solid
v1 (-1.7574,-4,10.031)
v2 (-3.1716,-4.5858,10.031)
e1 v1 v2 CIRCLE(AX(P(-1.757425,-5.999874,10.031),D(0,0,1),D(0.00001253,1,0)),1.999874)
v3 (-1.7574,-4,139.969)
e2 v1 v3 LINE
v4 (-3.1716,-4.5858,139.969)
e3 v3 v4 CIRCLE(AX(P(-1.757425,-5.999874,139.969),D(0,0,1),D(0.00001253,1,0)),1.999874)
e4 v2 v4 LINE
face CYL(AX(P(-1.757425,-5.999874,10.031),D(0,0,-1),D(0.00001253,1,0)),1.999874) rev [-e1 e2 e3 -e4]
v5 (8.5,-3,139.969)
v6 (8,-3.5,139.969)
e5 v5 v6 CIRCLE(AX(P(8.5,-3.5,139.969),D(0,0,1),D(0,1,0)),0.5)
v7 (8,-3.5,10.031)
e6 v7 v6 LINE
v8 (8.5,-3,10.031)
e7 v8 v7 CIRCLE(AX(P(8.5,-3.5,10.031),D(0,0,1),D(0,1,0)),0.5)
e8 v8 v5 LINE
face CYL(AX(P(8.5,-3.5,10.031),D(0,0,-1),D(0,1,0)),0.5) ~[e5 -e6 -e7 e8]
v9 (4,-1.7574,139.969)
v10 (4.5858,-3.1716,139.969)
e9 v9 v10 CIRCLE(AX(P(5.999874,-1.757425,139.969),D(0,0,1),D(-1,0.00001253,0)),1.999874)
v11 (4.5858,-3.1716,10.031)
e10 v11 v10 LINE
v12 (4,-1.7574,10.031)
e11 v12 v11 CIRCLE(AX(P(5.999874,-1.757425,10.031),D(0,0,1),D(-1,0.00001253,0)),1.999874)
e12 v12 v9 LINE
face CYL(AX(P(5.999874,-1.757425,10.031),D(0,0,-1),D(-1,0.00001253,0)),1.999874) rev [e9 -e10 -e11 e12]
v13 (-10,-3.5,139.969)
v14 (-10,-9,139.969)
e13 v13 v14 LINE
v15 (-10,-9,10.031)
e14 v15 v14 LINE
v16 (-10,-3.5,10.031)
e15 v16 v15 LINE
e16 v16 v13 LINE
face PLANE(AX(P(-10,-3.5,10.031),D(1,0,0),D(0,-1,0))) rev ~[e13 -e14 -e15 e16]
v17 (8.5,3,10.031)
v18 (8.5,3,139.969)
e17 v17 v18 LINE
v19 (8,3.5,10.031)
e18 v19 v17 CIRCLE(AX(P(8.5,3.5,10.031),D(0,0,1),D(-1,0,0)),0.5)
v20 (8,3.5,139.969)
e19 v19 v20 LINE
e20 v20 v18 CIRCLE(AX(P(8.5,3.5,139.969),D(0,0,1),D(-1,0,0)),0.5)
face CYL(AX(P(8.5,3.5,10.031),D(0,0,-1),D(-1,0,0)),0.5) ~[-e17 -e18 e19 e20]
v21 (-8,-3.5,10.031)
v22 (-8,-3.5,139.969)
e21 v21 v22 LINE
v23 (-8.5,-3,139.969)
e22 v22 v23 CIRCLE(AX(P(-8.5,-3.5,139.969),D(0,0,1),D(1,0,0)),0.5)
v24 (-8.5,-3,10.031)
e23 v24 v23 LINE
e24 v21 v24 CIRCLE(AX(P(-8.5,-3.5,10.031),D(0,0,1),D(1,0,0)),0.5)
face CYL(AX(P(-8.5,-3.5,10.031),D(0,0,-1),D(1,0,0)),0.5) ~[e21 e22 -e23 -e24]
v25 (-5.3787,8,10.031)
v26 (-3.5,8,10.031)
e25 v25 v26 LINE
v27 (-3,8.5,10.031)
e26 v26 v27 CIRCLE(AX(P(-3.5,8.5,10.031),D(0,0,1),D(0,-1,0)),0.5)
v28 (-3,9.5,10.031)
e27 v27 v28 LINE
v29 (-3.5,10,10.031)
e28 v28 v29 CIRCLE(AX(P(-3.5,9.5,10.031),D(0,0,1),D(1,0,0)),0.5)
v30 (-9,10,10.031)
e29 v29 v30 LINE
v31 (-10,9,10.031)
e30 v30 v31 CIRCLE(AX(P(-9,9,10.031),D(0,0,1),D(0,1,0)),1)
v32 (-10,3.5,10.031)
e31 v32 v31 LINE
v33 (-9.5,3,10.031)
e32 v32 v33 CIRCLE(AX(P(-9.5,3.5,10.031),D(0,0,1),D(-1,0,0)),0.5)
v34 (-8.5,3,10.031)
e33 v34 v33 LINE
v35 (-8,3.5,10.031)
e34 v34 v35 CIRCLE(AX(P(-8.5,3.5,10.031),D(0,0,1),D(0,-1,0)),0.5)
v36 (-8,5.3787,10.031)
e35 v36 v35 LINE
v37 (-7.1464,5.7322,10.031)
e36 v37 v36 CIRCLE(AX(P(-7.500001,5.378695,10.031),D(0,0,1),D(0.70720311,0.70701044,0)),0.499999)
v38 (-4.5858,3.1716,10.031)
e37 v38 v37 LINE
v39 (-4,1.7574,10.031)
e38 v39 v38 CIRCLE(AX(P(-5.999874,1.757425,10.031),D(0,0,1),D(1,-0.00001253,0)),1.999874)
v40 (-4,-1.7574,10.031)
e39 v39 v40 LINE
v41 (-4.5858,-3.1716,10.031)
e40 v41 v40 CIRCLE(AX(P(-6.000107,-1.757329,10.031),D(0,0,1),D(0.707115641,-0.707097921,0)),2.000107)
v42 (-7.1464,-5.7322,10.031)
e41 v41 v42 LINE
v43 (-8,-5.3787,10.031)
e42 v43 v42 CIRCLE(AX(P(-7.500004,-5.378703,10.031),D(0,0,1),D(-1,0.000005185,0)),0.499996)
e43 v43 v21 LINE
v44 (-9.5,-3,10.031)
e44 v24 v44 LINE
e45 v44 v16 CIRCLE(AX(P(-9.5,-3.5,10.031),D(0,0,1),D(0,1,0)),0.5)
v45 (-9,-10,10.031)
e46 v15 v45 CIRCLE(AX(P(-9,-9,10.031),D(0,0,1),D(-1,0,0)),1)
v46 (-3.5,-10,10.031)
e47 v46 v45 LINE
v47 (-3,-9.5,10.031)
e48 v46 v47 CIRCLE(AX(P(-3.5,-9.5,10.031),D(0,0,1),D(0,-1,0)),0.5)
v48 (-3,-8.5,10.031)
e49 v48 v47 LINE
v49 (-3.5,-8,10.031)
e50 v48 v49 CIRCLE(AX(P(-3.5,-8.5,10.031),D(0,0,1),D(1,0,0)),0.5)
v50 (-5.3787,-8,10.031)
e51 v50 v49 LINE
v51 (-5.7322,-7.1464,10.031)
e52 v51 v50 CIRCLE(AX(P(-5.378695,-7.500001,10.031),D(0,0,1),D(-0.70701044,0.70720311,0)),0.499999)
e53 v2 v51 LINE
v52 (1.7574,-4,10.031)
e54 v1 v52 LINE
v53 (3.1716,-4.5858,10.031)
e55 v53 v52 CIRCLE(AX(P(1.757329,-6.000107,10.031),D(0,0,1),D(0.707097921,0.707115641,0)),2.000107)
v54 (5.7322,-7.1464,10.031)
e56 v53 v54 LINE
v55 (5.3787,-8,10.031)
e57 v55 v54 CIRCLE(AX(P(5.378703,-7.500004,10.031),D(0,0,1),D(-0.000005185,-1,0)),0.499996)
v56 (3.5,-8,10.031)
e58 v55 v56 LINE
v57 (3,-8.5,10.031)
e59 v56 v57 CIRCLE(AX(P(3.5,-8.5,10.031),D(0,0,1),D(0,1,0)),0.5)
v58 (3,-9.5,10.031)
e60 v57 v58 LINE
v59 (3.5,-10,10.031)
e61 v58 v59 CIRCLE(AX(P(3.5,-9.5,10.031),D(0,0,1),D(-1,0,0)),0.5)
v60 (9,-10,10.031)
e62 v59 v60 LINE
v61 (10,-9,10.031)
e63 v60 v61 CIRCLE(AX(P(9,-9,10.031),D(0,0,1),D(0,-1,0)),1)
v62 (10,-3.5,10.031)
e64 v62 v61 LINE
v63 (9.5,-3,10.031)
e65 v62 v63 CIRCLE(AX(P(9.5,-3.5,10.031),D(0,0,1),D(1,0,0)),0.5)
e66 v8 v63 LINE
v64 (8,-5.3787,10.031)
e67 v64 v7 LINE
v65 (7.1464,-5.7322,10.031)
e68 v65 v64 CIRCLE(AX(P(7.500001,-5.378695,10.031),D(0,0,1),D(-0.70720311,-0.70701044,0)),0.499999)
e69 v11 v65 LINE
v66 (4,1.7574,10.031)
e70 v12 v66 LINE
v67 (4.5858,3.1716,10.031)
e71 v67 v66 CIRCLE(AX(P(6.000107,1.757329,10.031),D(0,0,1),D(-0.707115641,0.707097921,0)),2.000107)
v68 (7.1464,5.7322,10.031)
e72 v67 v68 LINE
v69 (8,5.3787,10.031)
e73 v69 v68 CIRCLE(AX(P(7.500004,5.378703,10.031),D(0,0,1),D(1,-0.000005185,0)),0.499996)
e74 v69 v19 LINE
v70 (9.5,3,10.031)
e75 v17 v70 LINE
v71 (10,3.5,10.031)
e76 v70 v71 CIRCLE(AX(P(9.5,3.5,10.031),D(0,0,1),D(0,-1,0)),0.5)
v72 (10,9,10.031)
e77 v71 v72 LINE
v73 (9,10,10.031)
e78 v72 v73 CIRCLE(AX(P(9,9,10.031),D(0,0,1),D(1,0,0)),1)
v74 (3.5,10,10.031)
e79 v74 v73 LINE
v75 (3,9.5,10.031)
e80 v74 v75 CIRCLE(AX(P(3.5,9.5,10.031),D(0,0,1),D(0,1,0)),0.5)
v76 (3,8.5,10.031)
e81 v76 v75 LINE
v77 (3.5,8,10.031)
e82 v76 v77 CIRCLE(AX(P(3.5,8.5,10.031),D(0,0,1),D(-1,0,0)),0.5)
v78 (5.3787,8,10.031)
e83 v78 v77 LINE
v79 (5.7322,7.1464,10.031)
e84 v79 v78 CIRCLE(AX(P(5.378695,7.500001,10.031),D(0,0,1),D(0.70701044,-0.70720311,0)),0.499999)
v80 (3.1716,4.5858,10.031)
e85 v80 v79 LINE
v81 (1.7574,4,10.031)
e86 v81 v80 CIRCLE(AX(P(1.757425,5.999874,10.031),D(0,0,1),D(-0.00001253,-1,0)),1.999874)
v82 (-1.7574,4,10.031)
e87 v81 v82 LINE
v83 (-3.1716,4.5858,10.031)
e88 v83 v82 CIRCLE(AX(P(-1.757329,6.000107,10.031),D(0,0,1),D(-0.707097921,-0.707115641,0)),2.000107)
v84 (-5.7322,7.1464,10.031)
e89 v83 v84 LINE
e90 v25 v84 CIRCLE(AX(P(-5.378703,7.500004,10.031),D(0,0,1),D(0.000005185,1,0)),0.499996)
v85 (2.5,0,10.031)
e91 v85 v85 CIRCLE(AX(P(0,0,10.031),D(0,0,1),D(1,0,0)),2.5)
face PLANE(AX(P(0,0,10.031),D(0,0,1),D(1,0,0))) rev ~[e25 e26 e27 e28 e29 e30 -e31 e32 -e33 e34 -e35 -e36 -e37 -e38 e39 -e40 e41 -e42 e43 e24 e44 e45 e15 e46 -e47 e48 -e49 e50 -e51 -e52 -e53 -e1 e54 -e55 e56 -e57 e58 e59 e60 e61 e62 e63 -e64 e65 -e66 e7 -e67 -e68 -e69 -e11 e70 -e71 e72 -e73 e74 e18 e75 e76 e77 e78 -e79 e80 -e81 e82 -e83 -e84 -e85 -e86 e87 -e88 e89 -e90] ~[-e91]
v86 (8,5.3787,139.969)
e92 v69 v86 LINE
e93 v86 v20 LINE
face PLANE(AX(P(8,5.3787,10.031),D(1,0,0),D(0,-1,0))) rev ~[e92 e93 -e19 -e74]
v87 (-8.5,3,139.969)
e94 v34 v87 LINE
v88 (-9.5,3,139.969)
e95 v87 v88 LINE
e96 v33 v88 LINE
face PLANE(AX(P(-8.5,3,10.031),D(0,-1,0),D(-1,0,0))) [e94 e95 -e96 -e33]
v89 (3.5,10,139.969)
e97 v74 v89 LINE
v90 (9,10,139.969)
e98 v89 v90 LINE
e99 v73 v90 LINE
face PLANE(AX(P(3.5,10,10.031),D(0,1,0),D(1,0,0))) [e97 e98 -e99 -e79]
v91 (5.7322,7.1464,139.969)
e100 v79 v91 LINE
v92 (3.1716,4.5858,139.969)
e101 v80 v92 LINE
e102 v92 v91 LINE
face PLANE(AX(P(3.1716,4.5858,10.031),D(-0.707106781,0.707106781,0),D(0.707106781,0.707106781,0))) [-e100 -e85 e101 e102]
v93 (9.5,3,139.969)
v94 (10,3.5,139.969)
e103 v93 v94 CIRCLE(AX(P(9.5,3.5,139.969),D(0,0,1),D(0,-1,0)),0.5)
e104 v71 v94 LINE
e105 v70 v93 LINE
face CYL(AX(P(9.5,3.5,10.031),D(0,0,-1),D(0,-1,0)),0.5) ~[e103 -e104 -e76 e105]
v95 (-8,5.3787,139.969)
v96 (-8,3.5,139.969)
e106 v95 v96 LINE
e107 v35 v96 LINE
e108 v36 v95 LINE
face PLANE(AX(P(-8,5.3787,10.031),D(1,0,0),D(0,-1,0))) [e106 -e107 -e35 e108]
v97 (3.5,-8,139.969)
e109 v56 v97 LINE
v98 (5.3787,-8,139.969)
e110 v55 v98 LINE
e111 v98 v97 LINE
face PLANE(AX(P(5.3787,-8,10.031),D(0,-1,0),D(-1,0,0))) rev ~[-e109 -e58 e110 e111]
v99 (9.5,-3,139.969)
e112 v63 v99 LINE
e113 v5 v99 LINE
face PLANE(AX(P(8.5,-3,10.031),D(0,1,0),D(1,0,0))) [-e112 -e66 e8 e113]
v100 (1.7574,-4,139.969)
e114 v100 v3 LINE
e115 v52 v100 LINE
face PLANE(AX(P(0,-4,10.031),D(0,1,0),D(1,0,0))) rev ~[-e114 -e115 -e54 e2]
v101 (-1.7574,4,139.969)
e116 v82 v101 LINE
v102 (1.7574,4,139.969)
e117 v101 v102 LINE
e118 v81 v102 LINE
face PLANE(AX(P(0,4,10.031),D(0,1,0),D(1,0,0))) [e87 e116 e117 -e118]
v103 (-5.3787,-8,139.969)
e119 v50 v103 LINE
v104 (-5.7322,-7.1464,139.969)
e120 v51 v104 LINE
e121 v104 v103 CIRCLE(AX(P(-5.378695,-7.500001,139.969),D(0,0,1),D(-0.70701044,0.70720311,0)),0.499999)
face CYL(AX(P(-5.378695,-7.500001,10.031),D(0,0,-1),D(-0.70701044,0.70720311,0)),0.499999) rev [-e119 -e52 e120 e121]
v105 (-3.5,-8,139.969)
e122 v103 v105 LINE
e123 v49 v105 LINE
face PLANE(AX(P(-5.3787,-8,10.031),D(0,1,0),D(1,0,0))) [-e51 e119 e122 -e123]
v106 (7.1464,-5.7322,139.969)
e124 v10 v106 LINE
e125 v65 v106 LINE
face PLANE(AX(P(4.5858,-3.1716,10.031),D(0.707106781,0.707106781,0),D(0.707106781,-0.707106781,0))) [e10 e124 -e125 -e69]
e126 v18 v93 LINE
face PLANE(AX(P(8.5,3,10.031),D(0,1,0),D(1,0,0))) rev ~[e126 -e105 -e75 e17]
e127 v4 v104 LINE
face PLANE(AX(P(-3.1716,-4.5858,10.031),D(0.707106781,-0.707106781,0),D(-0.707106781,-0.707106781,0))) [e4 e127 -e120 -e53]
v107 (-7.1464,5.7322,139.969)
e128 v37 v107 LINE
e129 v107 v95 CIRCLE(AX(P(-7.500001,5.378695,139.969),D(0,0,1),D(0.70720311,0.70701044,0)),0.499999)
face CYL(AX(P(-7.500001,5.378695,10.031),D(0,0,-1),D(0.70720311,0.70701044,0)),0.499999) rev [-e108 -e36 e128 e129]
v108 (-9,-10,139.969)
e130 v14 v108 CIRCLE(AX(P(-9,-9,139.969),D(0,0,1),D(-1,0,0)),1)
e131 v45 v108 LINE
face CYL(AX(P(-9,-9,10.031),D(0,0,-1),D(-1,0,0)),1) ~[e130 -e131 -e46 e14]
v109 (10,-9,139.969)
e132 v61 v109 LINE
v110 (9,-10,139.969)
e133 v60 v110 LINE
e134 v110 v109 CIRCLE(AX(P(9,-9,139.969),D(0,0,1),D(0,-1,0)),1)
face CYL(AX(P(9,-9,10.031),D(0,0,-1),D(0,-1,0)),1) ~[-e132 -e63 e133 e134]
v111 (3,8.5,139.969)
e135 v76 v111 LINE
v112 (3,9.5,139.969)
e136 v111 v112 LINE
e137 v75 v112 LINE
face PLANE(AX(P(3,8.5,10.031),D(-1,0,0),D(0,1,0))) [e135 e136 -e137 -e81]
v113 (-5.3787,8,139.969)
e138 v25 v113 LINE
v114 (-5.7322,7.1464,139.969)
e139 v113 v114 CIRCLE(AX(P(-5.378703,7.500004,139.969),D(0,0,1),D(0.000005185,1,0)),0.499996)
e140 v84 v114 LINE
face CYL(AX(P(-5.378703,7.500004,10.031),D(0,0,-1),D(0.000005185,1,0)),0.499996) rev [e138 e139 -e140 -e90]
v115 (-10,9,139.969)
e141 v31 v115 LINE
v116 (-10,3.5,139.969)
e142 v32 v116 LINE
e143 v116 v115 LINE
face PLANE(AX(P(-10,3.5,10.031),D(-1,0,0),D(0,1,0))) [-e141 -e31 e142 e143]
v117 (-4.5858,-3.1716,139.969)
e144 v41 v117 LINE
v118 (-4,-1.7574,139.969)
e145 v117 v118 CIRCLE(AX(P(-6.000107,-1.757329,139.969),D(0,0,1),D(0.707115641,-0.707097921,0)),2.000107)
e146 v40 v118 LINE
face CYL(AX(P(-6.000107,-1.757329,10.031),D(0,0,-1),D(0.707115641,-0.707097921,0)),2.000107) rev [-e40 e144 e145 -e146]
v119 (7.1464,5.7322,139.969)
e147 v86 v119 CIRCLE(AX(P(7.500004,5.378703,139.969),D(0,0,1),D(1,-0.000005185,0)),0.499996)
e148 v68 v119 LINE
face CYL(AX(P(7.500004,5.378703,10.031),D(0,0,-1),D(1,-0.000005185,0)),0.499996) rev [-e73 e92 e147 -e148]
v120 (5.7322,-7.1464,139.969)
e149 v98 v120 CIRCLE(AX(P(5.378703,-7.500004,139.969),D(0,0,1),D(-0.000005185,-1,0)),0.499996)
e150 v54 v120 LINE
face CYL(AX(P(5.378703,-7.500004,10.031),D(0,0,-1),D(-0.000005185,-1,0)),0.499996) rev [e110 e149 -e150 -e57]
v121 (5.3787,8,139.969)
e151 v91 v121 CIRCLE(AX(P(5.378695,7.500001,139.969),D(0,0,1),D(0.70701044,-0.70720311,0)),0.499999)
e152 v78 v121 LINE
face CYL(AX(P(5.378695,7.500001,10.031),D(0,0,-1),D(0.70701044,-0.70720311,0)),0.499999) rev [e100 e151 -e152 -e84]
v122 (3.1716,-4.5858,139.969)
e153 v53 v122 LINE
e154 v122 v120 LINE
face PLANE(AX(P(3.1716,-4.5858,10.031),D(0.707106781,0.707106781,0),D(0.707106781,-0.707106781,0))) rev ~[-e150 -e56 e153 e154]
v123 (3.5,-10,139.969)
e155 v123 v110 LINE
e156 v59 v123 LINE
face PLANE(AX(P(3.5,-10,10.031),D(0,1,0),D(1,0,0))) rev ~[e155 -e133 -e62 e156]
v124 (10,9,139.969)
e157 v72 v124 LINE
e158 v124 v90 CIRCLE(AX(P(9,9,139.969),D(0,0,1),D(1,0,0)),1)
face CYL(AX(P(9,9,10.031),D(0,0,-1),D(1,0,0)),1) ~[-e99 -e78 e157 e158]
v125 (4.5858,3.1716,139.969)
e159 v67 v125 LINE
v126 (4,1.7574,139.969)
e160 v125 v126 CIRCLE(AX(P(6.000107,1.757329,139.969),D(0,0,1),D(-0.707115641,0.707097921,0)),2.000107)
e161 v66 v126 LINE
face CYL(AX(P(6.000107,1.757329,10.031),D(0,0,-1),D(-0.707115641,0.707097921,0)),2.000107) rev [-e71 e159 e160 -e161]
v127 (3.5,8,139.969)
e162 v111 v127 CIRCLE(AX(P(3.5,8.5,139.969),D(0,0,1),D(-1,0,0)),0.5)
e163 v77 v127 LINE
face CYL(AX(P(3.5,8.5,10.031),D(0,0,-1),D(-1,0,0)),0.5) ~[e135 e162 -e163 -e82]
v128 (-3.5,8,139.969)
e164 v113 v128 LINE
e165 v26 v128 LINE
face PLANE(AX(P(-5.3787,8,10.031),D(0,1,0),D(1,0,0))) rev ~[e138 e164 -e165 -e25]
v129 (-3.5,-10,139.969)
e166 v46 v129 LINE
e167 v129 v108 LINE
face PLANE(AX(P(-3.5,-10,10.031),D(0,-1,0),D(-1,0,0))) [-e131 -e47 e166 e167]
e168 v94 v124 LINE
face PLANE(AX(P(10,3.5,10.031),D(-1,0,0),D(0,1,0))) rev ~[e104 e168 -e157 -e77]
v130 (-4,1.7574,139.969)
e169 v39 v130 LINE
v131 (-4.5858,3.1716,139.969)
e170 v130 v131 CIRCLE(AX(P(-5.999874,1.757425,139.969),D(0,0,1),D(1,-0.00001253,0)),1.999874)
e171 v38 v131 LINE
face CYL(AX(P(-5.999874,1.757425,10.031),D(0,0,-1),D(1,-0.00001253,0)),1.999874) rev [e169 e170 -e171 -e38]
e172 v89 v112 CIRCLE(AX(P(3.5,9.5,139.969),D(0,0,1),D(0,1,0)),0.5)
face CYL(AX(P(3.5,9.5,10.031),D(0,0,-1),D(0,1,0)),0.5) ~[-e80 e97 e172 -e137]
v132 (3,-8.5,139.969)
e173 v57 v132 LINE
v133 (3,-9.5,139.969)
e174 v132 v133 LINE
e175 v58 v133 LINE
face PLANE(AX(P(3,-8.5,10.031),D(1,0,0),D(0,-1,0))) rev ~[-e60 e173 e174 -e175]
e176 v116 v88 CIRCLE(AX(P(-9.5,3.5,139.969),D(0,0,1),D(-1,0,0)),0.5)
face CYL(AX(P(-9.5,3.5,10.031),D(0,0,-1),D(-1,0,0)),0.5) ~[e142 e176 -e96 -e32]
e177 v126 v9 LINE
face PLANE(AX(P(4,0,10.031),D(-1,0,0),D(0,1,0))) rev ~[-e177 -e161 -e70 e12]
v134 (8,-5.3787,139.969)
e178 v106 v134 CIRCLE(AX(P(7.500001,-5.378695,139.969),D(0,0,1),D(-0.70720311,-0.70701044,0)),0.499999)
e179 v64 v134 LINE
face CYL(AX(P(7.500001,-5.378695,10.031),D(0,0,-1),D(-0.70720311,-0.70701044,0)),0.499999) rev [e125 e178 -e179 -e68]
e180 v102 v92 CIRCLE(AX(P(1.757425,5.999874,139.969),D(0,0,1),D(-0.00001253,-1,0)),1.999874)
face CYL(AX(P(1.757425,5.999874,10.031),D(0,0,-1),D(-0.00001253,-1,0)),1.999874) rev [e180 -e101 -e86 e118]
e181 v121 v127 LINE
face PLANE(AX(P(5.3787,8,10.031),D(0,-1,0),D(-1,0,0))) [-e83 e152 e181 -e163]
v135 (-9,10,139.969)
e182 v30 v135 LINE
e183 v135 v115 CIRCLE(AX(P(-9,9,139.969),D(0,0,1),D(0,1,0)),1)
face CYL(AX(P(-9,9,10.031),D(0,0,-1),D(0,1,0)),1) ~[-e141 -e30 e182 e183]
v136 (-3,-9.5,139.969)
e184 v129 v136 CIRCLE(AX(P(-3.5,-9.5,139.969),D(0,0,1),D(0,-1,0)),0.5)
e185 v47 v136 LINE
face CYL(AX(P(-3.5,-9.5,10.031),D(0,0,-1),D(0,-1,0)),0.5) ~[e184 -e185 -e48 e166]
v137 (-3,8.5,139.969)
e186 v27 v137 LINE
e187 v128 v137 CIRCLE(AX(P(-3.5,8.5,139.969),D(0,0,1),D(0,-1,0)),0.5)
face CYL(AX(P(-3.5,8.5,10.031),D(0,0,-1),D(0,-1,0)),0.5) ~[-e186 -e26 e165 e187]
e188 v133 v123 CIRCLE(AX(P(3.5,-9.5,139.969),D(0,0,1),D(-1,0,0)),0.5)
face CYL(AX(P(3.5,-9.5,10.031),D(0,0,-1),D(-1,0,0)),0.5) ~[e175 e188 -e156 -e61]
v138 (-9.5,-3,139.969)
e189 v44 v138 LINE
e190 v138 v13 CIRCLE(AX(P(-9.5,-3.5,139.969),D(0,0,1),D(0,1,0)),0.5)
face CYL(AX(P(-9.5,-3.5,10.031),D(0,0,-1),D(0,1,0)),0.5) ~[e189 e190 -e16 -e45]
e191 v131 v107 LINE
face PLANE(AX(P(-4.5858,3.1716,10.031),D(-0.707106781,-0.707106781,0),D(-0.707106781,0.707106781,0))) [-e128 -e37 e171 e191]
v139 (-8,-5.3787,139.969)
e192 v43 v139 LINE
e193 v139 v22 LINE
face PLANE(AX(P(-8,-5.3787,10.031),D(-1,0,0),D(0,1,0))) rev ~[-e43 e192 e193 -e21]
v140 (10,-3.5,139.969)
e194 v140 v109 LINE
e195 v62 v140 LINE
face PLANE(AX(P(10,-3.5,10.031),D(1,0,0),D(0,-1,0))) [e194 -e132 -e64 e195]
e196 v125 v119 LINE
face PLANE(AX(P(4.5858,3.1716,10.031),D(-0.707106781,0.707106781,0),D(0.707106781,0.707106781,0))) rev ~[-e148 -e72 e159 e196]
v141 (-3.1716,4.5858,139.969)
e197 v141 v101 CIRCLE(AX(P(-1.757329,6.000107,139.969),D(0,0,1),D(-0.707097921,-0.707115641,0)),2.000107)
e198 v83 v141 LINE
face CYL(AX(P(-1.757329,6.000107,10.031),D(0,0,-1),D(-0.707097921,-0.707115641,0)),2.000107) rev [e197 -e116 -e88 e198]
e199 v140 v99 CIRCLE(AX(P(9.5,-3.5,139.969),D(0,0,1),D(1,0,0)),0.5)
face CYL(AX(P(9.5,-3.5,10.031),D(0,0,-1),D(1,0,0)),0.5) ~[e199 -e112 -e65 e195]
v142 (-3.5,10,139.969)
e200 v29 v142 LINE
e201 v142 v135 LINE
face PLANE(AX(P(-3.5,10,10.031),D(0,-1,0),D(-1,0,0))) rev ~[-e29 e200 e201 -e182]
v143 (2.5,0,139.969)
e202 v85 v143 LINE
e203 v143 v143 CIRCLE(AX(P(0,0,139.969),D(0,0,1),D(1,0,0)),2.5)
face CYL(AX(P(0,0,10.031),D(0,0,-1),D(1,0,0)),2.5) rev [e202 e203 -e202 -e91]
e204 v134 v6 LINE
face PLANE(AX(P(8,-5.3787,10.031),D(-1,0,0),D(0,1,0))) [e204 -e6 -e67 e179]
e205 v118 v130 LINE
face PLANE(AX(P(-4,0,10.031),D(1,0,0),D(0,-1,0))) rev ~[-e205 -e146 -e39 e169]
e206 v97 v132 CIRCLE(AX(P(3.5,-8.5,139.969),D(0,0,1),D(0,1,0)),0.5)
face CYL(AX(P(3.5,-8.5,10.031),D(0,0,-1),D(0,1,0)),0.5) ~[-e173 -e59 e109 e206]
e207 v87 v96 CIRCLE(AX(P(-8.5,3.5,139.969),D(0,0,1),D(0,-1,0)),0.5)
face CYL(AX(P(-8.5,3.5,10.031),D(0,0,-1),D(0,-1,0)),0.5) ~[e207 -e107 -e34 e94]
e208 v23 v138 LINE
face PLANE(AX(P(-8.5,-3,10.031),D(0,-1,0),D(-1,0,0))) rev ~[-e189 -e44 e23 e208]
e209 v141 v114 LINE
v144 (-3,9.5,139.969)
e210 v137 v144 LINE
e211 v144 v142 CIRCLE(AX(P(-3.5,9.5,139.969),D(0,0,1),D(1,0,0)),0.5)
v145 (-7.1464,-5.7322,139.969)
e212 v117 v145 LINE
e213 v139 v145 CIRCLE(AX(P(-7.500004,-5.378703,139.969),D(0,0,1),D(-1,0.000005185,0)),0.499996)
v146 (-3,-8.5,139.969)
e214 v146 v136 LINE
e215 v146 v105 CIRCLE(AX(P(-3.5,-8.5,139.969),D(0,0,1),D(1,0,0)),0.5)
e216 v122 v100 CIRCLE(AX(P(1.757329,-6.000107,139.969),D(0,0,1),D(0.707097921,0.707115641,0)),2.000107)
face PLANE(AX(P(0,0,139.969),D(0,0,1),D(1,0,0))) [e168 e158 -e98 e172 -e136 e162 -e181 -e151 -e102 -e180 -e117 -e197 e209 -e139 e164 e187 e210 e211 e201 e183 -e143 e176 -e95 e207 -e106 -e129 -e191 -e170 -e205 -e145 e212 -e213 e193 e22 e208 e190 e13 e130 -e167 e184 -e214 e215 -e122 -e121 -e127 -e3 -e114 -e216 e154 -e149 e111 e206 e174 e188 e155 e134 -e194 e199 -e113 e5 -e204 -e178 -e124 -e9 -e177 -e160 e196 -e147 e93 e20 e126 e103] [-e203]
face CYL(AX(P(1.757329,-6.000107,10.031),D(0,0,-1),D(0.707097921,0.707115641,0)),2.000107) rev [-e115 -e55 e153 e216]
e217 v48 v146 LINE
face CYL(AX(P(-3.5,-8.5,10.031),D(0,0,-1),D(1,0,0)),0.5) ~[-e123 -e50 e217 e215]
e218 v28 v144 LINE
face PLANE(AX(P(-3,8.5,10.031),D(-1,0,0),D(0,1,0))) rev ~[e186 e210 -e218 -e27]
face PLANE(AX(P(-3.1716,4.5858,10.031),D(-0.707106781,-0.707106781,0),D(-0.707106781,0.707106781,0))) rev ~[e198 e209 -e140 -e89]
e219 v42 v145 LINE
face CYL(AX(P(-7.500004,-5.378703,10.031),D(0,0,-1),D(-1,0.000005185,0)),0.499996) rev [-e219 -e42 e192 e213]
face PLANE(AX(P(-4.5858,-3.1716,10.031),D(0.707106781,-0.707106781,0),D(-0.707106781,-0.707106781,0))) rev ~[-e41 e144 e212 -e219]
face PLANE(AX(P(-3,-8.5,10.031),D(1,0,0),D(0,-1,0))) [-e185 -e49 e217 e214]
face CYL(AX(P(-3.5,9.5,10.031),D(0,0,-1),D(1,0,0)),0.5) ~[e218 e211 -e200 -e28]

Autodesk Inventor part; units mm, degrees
ref_plane "Start Plane" through (0, 0, 10.031) normal (0, 0, 1) x (1, 0, 0)
ref_plane "End Plane" through (0, 0, 139.969) normal (0, 0, 1) x (1, 0, 0)
sketch "Sketch" plane through (0, 0, 0) normal (0, 0, 1) x (1, 0, 0)
  line L0 (0, 0) -> (2.5, 0) construction
  line L1 (0, 0) -> (0, 2.5) construction
  line L2 (0, 4) -> (0, -4) construction
  line L3 (0, 4) -> (1.7574, 4)
  arc A0 (1.7574, 4) -> (3.1716, 4.5858) centre (1.7574, 6) ccw
  line L4 (3.1716, 4.5858) -> (5.7322, 7.1464)
  line L5 (-4, 0) -> (4, 0) construction
  line L6 (4, 0) -> (4, 1.7574)
  arc A1 (4.5858, 3.1716) -> (4, 1.7574) centre (6, 1.7574) ccw
  line L7 (4.5858, 3.1716) -> (7.1464, 5.7322)
  line L8 (0, 0) -> (10, 10) construction
  line L9 (0, 0) -> (19.6827, 0) construction
  arc A2 (8, 5.3787) -> (7.1464, 5.7322) centre (7.5, 5.3787) ccw
  line L10 (8, 5.3787) -> (8, 3.5)
  arc A3 (8, 3.5) -> (8.5, 3) centre (8.5, 3.5) ccw
  line L11 (8.5, 3) -> (9.5, 3)
  arc A4 (9.5, 3) -> (10, 3.5) centre (9.5, 3.5) ccw
  line L12 (10, 3.5) -> (10, 9)
  line L13 (10, 9) -> (10, 10) construction
  arc A5 (5.7322, 7.1464) -> (5.3787, 8) centre (5.3787, 7.5) ccw
  line L14 (5.3787, 8) -> (3.5, 8)
  arc A6 (3, 8.5) -> (3.5, 8) centre (3.5, 8.5) ccw
  line L15 (3, 8.5) -> (3, 9.5)
  arc A7 (3.5, 10) -> (3, 9.5) centre (3.5, 9.5) ccw
  line L16 (3.5, 10) -> (9, 10)
  arc A8 (10, 9) -> (9, 10) centre (9, 9) ccw
  line L17 (0, 4) -> (-1.7574, 4)
  arc A9 (-3.1716, 4.5858) -> (-1.7574, 4) centre (-1.7574, 6) ccw
  line L18 (-3.1716, 4.5858) -> (-5.7322, 7.1464)
  line L19 (-4, 0) -> (-4, 1.7574)
  arc A10 (-4, 1.7574) -> (-4.5858, 3.1716) centre (-6, 1.7574) ccw
  line L20 (-4.5858, 3.1716) -> (-7.1464, 5.7322)
  arc A11 (-7.1464, 5.7322) -> (-8, 5.3787) centre (-7.5, 5.3787) ccw
  line L21 (-8, 5.3787) -> (-8, 3.5)
  arc A12 (-8.5, 3) -> (-8, 3.5) centre (-8.5, 3.5) ccw
  line L22 (-8.5, 3) -> (-9.5, 3)
  arc A13 (-10, 3.5) -> (-9.5, 3) centre (-9.5, 3.5) ccw
  line L23 (-10, 3.5) -> (-10, 9)
  arc A14 (-5.3787, 8) -> (-5.7322, 7.1464) centre (-5.3787, 7.5) ccw
  line L24 (-5.3787, 8) -> (-3.5, 8)
  arc A15 (-3.5, 8) -> (-3, 8.5) centre (-3.5, 8.5) ccw
  line L25 (-3, 8.5) -> (-3, 9.5)
  arc A16 (-3, 9.5) -> (-3.5, 10) centre (-3.5, 9.5) ccw
  line L26 (-3.5, 10) -> (-9, 10)
  arc A17 (-9, 10) -> (-10, 9) centre (-9, 9) ccw
  line L27 (0, -4) -> (-1.7574, -4)
  arc A18 (-1.7574, -4) -> (-3.1716, -4.5858) centre (-1.7574, -6) ccw
  line L28 (-3.1716, -4.5858) -> (-5.7322, -7.1464)
  arc A19 (-5.7322, -7.1464) -> (-5.3787, -8) centre (-5.3787, -7.5) ccw
  line L29 (-5.3787, -8) -> (-3.5, -8)
  arc A20 (-3, -8.5) -> (-3.5, -8) centre (-3.5, -8.5) ccw
  line L30 (-3, -8.5) -> (-3, -9.5)
  arc A21 (-3.5, -10) -> (-3, -9.5) centre (-3.5, -9.5) ccw
  line L31 (-3.5, -10) -> (-9, -10)
  arc A22 (-10, -9) -> (-9, -10) centre (-9, -9) ccw
  line L32 (-10, -3.5) -> (-10, -9)
  arc A23 (-9.5, -3) -> (-10, -3.5) centre (-9.5, -3.5) ccw
  line L33 (-8.5, -3) -> (-9.5, -3)
  arc A24 (-8, -3.5) -> (-8.5, -3) centre (-8.5, -3.5) ccw
  line L34 (-8, -5.3787) -> (-8, -3.5)
  arc A25 (-8, -5.3787) -> (-7.1464, -5.7322) centre (-7.5, -5.3787) ccw
  line L35 (-4.5858, -3.1716) -> (-7.1464, -5.7322)
  arc A26 (-4.5858, -3.1716) -> (-4, -1.7574) centre (-6, -1.7574) ccw
  line L36 (-4, 0) -> (-4, -1.7574)
  line L37 (3.5, -10) -> (9, -10)
  arc A27 (9, -10) -> (10, -9) centre (9, -9) ccw
  line L38 (10, -3.5) -> (10, -9)
  arc A28 (10, -3.5) -> (9.5, -3) centre (9.5, -3.5) ccw
  line L39 (8.5, -3) -> (9.5, -3)
  arc A29 (8.5, -3) -> (8, -3.5) centre (8.5, -3.5) ccw
  line L40 (8, -5.3787) -> (8, -3.5)
  arc A30 (7.1464, -5.7322) -> (8, -5.3787) centre (7.5, -5.3787) ccw
  line L41 (4.5858, -3.1716) -> (7.1464, -5.7322)
  arc A31 (4, -1.7574) -> (4.5858, -3.1716) centre (6, -1.7574) ccw
  line L42 (4, 0) -> (4, -1.7574)
  line L43 (5.3787, -8) -> (3.5, -8)
  arc A32 (5.3787, -8) -> (5.7322, -7.1464) centre (5.3787, -7.5) ccw
  line L44 (3.1716, -4.5858) -> (5.7322, -7.1464)
  arc A33 (3.1716, -4.5858) -> (1.7574, -4) centre (1.7574, -6) ccw
  line L45 (0, -4) -> (1.7574, -4)
  arc A34 (3.5, -8) -> (3, -8.5) centre (3.5, -8.5) ccw
  line L46 (3, -8.5) -> (3, -9.5)
  arc A35 (3, -9.5) -> (3.5, -10) centre (3.5, -9.5) ccw
  circle A36 centre (0, 0) radius 2.5
  dimension "d1" = 8
  dimension "d2" = 2
  dimension "d3" = 8
  dimension "d4" = 2
  dimension "d5" = 2
  dimension "d7" = 45
  dimension "d8" = 0.5
  dimension "d9" = 0.5
  dimension "d10" = 0.5
  dimension "d12" = 2
  dimension "d17" = 7
  dimension "d18" = 10
  dimension "d19" = 0.5
  dimension "d20" = 1
  dimension "d21" = 0.5
  dimension "d22" = 0.5
  dimension "d23" = 2
  dimension "d24" = 7
  dimension "d25" = 5
extrude "Body" add sketch "Sketch" along normal up to surface (129.938 mm away) from surface at 10.031
sketch "Sketch6" plane through (0, 0, 0) normal (0, 0, 1) x (1, 0, 0)
  line L0 (0, 0) -> (10, 0)
ref_plane "Work Plane5" through (0, 0, 0) normal (0, -1, 0) x (1, 0, 0)
sketch "Sketch7" plane through (0, 0, 0) normal (0, -1, 0) x (1, 0, 0)
  line L0 (-2, 10.031) -> (12, 10.031)
  line L1 (-2, 139.969) -> (12, 139.969)
  dimension "d33" = 129.938
ref_plane "Work Plane6" through (0, 9, 139.969) normal (0, 0, 1) x (1, 0, 0)
split "Split1" plane through (0, 9, 139.969) removes the side toward (0, 0, 1)
ref_plane "Work Plane7" through (-500, 9, 10.031) normal (0, 0, -1) x (-1, 0, 0)
split "Split2" plane through (-500, 9, 10.031) removes the side toward (0, 0, -1)
ref_plane "Work Plane8" through (0, 0, 139.969) normal (0, 0, 1) x (1, 0, 0)
split "Split3" plane through (0, 0, 139.969) removes the side toward (0, 0, 1)
ref_plane "Work Plane9" through (-510, 0, 10.031) normal (0, 0, -1) x (-1, 0, 0)
split "Split4" plane through (-510, 0, 10.031) removes the side toward (0, 0, -1)
equation "\"d1\" = 8 * sigma"
equation "\"d2\" = 2 * sigma"
equation "\"d3\" = 8 * sigma"
equation "\"d4\" = 2 * sigma"
equation "\"d5\" = 2 * sigma"
equation "\"d8\" = 0.5 * sigma"
equation "\"d9\" = 0.5 * sigma"
equation "\"d10\" = 0.5 * sigma"
equation "\"d12\" = 2 * sigma"
equation "\"d17\" = 7 * sigma"
equation "\"d18\" = sigma"
equation "\"d19\" = 0.5 * sigma"
equation "\"d20\" = sigma"
equation "\"d21\" = 0.5 * sigma"
equation "\"d22\" = 0.5 * sigma"
equation "\"d23\" = 2 * sigma"
equation "\"d24\" = 7 * sigma"
equation "\"d25\" = 5 * sigma"
equation "\"sigma\" = 1"
equation "\"G_OFFSET_START\" = -10.031"
equation "\"G_OFFSET_END\" = -10.031"
equation "\"d28\" = -G_OFFSET_START"
equation "\"d29\" = Length + G_OFFSET_END"
equation "\"G_L\" = d33"
equation "\"Length\" = 150"
properties part number "A3.3-MEM"
